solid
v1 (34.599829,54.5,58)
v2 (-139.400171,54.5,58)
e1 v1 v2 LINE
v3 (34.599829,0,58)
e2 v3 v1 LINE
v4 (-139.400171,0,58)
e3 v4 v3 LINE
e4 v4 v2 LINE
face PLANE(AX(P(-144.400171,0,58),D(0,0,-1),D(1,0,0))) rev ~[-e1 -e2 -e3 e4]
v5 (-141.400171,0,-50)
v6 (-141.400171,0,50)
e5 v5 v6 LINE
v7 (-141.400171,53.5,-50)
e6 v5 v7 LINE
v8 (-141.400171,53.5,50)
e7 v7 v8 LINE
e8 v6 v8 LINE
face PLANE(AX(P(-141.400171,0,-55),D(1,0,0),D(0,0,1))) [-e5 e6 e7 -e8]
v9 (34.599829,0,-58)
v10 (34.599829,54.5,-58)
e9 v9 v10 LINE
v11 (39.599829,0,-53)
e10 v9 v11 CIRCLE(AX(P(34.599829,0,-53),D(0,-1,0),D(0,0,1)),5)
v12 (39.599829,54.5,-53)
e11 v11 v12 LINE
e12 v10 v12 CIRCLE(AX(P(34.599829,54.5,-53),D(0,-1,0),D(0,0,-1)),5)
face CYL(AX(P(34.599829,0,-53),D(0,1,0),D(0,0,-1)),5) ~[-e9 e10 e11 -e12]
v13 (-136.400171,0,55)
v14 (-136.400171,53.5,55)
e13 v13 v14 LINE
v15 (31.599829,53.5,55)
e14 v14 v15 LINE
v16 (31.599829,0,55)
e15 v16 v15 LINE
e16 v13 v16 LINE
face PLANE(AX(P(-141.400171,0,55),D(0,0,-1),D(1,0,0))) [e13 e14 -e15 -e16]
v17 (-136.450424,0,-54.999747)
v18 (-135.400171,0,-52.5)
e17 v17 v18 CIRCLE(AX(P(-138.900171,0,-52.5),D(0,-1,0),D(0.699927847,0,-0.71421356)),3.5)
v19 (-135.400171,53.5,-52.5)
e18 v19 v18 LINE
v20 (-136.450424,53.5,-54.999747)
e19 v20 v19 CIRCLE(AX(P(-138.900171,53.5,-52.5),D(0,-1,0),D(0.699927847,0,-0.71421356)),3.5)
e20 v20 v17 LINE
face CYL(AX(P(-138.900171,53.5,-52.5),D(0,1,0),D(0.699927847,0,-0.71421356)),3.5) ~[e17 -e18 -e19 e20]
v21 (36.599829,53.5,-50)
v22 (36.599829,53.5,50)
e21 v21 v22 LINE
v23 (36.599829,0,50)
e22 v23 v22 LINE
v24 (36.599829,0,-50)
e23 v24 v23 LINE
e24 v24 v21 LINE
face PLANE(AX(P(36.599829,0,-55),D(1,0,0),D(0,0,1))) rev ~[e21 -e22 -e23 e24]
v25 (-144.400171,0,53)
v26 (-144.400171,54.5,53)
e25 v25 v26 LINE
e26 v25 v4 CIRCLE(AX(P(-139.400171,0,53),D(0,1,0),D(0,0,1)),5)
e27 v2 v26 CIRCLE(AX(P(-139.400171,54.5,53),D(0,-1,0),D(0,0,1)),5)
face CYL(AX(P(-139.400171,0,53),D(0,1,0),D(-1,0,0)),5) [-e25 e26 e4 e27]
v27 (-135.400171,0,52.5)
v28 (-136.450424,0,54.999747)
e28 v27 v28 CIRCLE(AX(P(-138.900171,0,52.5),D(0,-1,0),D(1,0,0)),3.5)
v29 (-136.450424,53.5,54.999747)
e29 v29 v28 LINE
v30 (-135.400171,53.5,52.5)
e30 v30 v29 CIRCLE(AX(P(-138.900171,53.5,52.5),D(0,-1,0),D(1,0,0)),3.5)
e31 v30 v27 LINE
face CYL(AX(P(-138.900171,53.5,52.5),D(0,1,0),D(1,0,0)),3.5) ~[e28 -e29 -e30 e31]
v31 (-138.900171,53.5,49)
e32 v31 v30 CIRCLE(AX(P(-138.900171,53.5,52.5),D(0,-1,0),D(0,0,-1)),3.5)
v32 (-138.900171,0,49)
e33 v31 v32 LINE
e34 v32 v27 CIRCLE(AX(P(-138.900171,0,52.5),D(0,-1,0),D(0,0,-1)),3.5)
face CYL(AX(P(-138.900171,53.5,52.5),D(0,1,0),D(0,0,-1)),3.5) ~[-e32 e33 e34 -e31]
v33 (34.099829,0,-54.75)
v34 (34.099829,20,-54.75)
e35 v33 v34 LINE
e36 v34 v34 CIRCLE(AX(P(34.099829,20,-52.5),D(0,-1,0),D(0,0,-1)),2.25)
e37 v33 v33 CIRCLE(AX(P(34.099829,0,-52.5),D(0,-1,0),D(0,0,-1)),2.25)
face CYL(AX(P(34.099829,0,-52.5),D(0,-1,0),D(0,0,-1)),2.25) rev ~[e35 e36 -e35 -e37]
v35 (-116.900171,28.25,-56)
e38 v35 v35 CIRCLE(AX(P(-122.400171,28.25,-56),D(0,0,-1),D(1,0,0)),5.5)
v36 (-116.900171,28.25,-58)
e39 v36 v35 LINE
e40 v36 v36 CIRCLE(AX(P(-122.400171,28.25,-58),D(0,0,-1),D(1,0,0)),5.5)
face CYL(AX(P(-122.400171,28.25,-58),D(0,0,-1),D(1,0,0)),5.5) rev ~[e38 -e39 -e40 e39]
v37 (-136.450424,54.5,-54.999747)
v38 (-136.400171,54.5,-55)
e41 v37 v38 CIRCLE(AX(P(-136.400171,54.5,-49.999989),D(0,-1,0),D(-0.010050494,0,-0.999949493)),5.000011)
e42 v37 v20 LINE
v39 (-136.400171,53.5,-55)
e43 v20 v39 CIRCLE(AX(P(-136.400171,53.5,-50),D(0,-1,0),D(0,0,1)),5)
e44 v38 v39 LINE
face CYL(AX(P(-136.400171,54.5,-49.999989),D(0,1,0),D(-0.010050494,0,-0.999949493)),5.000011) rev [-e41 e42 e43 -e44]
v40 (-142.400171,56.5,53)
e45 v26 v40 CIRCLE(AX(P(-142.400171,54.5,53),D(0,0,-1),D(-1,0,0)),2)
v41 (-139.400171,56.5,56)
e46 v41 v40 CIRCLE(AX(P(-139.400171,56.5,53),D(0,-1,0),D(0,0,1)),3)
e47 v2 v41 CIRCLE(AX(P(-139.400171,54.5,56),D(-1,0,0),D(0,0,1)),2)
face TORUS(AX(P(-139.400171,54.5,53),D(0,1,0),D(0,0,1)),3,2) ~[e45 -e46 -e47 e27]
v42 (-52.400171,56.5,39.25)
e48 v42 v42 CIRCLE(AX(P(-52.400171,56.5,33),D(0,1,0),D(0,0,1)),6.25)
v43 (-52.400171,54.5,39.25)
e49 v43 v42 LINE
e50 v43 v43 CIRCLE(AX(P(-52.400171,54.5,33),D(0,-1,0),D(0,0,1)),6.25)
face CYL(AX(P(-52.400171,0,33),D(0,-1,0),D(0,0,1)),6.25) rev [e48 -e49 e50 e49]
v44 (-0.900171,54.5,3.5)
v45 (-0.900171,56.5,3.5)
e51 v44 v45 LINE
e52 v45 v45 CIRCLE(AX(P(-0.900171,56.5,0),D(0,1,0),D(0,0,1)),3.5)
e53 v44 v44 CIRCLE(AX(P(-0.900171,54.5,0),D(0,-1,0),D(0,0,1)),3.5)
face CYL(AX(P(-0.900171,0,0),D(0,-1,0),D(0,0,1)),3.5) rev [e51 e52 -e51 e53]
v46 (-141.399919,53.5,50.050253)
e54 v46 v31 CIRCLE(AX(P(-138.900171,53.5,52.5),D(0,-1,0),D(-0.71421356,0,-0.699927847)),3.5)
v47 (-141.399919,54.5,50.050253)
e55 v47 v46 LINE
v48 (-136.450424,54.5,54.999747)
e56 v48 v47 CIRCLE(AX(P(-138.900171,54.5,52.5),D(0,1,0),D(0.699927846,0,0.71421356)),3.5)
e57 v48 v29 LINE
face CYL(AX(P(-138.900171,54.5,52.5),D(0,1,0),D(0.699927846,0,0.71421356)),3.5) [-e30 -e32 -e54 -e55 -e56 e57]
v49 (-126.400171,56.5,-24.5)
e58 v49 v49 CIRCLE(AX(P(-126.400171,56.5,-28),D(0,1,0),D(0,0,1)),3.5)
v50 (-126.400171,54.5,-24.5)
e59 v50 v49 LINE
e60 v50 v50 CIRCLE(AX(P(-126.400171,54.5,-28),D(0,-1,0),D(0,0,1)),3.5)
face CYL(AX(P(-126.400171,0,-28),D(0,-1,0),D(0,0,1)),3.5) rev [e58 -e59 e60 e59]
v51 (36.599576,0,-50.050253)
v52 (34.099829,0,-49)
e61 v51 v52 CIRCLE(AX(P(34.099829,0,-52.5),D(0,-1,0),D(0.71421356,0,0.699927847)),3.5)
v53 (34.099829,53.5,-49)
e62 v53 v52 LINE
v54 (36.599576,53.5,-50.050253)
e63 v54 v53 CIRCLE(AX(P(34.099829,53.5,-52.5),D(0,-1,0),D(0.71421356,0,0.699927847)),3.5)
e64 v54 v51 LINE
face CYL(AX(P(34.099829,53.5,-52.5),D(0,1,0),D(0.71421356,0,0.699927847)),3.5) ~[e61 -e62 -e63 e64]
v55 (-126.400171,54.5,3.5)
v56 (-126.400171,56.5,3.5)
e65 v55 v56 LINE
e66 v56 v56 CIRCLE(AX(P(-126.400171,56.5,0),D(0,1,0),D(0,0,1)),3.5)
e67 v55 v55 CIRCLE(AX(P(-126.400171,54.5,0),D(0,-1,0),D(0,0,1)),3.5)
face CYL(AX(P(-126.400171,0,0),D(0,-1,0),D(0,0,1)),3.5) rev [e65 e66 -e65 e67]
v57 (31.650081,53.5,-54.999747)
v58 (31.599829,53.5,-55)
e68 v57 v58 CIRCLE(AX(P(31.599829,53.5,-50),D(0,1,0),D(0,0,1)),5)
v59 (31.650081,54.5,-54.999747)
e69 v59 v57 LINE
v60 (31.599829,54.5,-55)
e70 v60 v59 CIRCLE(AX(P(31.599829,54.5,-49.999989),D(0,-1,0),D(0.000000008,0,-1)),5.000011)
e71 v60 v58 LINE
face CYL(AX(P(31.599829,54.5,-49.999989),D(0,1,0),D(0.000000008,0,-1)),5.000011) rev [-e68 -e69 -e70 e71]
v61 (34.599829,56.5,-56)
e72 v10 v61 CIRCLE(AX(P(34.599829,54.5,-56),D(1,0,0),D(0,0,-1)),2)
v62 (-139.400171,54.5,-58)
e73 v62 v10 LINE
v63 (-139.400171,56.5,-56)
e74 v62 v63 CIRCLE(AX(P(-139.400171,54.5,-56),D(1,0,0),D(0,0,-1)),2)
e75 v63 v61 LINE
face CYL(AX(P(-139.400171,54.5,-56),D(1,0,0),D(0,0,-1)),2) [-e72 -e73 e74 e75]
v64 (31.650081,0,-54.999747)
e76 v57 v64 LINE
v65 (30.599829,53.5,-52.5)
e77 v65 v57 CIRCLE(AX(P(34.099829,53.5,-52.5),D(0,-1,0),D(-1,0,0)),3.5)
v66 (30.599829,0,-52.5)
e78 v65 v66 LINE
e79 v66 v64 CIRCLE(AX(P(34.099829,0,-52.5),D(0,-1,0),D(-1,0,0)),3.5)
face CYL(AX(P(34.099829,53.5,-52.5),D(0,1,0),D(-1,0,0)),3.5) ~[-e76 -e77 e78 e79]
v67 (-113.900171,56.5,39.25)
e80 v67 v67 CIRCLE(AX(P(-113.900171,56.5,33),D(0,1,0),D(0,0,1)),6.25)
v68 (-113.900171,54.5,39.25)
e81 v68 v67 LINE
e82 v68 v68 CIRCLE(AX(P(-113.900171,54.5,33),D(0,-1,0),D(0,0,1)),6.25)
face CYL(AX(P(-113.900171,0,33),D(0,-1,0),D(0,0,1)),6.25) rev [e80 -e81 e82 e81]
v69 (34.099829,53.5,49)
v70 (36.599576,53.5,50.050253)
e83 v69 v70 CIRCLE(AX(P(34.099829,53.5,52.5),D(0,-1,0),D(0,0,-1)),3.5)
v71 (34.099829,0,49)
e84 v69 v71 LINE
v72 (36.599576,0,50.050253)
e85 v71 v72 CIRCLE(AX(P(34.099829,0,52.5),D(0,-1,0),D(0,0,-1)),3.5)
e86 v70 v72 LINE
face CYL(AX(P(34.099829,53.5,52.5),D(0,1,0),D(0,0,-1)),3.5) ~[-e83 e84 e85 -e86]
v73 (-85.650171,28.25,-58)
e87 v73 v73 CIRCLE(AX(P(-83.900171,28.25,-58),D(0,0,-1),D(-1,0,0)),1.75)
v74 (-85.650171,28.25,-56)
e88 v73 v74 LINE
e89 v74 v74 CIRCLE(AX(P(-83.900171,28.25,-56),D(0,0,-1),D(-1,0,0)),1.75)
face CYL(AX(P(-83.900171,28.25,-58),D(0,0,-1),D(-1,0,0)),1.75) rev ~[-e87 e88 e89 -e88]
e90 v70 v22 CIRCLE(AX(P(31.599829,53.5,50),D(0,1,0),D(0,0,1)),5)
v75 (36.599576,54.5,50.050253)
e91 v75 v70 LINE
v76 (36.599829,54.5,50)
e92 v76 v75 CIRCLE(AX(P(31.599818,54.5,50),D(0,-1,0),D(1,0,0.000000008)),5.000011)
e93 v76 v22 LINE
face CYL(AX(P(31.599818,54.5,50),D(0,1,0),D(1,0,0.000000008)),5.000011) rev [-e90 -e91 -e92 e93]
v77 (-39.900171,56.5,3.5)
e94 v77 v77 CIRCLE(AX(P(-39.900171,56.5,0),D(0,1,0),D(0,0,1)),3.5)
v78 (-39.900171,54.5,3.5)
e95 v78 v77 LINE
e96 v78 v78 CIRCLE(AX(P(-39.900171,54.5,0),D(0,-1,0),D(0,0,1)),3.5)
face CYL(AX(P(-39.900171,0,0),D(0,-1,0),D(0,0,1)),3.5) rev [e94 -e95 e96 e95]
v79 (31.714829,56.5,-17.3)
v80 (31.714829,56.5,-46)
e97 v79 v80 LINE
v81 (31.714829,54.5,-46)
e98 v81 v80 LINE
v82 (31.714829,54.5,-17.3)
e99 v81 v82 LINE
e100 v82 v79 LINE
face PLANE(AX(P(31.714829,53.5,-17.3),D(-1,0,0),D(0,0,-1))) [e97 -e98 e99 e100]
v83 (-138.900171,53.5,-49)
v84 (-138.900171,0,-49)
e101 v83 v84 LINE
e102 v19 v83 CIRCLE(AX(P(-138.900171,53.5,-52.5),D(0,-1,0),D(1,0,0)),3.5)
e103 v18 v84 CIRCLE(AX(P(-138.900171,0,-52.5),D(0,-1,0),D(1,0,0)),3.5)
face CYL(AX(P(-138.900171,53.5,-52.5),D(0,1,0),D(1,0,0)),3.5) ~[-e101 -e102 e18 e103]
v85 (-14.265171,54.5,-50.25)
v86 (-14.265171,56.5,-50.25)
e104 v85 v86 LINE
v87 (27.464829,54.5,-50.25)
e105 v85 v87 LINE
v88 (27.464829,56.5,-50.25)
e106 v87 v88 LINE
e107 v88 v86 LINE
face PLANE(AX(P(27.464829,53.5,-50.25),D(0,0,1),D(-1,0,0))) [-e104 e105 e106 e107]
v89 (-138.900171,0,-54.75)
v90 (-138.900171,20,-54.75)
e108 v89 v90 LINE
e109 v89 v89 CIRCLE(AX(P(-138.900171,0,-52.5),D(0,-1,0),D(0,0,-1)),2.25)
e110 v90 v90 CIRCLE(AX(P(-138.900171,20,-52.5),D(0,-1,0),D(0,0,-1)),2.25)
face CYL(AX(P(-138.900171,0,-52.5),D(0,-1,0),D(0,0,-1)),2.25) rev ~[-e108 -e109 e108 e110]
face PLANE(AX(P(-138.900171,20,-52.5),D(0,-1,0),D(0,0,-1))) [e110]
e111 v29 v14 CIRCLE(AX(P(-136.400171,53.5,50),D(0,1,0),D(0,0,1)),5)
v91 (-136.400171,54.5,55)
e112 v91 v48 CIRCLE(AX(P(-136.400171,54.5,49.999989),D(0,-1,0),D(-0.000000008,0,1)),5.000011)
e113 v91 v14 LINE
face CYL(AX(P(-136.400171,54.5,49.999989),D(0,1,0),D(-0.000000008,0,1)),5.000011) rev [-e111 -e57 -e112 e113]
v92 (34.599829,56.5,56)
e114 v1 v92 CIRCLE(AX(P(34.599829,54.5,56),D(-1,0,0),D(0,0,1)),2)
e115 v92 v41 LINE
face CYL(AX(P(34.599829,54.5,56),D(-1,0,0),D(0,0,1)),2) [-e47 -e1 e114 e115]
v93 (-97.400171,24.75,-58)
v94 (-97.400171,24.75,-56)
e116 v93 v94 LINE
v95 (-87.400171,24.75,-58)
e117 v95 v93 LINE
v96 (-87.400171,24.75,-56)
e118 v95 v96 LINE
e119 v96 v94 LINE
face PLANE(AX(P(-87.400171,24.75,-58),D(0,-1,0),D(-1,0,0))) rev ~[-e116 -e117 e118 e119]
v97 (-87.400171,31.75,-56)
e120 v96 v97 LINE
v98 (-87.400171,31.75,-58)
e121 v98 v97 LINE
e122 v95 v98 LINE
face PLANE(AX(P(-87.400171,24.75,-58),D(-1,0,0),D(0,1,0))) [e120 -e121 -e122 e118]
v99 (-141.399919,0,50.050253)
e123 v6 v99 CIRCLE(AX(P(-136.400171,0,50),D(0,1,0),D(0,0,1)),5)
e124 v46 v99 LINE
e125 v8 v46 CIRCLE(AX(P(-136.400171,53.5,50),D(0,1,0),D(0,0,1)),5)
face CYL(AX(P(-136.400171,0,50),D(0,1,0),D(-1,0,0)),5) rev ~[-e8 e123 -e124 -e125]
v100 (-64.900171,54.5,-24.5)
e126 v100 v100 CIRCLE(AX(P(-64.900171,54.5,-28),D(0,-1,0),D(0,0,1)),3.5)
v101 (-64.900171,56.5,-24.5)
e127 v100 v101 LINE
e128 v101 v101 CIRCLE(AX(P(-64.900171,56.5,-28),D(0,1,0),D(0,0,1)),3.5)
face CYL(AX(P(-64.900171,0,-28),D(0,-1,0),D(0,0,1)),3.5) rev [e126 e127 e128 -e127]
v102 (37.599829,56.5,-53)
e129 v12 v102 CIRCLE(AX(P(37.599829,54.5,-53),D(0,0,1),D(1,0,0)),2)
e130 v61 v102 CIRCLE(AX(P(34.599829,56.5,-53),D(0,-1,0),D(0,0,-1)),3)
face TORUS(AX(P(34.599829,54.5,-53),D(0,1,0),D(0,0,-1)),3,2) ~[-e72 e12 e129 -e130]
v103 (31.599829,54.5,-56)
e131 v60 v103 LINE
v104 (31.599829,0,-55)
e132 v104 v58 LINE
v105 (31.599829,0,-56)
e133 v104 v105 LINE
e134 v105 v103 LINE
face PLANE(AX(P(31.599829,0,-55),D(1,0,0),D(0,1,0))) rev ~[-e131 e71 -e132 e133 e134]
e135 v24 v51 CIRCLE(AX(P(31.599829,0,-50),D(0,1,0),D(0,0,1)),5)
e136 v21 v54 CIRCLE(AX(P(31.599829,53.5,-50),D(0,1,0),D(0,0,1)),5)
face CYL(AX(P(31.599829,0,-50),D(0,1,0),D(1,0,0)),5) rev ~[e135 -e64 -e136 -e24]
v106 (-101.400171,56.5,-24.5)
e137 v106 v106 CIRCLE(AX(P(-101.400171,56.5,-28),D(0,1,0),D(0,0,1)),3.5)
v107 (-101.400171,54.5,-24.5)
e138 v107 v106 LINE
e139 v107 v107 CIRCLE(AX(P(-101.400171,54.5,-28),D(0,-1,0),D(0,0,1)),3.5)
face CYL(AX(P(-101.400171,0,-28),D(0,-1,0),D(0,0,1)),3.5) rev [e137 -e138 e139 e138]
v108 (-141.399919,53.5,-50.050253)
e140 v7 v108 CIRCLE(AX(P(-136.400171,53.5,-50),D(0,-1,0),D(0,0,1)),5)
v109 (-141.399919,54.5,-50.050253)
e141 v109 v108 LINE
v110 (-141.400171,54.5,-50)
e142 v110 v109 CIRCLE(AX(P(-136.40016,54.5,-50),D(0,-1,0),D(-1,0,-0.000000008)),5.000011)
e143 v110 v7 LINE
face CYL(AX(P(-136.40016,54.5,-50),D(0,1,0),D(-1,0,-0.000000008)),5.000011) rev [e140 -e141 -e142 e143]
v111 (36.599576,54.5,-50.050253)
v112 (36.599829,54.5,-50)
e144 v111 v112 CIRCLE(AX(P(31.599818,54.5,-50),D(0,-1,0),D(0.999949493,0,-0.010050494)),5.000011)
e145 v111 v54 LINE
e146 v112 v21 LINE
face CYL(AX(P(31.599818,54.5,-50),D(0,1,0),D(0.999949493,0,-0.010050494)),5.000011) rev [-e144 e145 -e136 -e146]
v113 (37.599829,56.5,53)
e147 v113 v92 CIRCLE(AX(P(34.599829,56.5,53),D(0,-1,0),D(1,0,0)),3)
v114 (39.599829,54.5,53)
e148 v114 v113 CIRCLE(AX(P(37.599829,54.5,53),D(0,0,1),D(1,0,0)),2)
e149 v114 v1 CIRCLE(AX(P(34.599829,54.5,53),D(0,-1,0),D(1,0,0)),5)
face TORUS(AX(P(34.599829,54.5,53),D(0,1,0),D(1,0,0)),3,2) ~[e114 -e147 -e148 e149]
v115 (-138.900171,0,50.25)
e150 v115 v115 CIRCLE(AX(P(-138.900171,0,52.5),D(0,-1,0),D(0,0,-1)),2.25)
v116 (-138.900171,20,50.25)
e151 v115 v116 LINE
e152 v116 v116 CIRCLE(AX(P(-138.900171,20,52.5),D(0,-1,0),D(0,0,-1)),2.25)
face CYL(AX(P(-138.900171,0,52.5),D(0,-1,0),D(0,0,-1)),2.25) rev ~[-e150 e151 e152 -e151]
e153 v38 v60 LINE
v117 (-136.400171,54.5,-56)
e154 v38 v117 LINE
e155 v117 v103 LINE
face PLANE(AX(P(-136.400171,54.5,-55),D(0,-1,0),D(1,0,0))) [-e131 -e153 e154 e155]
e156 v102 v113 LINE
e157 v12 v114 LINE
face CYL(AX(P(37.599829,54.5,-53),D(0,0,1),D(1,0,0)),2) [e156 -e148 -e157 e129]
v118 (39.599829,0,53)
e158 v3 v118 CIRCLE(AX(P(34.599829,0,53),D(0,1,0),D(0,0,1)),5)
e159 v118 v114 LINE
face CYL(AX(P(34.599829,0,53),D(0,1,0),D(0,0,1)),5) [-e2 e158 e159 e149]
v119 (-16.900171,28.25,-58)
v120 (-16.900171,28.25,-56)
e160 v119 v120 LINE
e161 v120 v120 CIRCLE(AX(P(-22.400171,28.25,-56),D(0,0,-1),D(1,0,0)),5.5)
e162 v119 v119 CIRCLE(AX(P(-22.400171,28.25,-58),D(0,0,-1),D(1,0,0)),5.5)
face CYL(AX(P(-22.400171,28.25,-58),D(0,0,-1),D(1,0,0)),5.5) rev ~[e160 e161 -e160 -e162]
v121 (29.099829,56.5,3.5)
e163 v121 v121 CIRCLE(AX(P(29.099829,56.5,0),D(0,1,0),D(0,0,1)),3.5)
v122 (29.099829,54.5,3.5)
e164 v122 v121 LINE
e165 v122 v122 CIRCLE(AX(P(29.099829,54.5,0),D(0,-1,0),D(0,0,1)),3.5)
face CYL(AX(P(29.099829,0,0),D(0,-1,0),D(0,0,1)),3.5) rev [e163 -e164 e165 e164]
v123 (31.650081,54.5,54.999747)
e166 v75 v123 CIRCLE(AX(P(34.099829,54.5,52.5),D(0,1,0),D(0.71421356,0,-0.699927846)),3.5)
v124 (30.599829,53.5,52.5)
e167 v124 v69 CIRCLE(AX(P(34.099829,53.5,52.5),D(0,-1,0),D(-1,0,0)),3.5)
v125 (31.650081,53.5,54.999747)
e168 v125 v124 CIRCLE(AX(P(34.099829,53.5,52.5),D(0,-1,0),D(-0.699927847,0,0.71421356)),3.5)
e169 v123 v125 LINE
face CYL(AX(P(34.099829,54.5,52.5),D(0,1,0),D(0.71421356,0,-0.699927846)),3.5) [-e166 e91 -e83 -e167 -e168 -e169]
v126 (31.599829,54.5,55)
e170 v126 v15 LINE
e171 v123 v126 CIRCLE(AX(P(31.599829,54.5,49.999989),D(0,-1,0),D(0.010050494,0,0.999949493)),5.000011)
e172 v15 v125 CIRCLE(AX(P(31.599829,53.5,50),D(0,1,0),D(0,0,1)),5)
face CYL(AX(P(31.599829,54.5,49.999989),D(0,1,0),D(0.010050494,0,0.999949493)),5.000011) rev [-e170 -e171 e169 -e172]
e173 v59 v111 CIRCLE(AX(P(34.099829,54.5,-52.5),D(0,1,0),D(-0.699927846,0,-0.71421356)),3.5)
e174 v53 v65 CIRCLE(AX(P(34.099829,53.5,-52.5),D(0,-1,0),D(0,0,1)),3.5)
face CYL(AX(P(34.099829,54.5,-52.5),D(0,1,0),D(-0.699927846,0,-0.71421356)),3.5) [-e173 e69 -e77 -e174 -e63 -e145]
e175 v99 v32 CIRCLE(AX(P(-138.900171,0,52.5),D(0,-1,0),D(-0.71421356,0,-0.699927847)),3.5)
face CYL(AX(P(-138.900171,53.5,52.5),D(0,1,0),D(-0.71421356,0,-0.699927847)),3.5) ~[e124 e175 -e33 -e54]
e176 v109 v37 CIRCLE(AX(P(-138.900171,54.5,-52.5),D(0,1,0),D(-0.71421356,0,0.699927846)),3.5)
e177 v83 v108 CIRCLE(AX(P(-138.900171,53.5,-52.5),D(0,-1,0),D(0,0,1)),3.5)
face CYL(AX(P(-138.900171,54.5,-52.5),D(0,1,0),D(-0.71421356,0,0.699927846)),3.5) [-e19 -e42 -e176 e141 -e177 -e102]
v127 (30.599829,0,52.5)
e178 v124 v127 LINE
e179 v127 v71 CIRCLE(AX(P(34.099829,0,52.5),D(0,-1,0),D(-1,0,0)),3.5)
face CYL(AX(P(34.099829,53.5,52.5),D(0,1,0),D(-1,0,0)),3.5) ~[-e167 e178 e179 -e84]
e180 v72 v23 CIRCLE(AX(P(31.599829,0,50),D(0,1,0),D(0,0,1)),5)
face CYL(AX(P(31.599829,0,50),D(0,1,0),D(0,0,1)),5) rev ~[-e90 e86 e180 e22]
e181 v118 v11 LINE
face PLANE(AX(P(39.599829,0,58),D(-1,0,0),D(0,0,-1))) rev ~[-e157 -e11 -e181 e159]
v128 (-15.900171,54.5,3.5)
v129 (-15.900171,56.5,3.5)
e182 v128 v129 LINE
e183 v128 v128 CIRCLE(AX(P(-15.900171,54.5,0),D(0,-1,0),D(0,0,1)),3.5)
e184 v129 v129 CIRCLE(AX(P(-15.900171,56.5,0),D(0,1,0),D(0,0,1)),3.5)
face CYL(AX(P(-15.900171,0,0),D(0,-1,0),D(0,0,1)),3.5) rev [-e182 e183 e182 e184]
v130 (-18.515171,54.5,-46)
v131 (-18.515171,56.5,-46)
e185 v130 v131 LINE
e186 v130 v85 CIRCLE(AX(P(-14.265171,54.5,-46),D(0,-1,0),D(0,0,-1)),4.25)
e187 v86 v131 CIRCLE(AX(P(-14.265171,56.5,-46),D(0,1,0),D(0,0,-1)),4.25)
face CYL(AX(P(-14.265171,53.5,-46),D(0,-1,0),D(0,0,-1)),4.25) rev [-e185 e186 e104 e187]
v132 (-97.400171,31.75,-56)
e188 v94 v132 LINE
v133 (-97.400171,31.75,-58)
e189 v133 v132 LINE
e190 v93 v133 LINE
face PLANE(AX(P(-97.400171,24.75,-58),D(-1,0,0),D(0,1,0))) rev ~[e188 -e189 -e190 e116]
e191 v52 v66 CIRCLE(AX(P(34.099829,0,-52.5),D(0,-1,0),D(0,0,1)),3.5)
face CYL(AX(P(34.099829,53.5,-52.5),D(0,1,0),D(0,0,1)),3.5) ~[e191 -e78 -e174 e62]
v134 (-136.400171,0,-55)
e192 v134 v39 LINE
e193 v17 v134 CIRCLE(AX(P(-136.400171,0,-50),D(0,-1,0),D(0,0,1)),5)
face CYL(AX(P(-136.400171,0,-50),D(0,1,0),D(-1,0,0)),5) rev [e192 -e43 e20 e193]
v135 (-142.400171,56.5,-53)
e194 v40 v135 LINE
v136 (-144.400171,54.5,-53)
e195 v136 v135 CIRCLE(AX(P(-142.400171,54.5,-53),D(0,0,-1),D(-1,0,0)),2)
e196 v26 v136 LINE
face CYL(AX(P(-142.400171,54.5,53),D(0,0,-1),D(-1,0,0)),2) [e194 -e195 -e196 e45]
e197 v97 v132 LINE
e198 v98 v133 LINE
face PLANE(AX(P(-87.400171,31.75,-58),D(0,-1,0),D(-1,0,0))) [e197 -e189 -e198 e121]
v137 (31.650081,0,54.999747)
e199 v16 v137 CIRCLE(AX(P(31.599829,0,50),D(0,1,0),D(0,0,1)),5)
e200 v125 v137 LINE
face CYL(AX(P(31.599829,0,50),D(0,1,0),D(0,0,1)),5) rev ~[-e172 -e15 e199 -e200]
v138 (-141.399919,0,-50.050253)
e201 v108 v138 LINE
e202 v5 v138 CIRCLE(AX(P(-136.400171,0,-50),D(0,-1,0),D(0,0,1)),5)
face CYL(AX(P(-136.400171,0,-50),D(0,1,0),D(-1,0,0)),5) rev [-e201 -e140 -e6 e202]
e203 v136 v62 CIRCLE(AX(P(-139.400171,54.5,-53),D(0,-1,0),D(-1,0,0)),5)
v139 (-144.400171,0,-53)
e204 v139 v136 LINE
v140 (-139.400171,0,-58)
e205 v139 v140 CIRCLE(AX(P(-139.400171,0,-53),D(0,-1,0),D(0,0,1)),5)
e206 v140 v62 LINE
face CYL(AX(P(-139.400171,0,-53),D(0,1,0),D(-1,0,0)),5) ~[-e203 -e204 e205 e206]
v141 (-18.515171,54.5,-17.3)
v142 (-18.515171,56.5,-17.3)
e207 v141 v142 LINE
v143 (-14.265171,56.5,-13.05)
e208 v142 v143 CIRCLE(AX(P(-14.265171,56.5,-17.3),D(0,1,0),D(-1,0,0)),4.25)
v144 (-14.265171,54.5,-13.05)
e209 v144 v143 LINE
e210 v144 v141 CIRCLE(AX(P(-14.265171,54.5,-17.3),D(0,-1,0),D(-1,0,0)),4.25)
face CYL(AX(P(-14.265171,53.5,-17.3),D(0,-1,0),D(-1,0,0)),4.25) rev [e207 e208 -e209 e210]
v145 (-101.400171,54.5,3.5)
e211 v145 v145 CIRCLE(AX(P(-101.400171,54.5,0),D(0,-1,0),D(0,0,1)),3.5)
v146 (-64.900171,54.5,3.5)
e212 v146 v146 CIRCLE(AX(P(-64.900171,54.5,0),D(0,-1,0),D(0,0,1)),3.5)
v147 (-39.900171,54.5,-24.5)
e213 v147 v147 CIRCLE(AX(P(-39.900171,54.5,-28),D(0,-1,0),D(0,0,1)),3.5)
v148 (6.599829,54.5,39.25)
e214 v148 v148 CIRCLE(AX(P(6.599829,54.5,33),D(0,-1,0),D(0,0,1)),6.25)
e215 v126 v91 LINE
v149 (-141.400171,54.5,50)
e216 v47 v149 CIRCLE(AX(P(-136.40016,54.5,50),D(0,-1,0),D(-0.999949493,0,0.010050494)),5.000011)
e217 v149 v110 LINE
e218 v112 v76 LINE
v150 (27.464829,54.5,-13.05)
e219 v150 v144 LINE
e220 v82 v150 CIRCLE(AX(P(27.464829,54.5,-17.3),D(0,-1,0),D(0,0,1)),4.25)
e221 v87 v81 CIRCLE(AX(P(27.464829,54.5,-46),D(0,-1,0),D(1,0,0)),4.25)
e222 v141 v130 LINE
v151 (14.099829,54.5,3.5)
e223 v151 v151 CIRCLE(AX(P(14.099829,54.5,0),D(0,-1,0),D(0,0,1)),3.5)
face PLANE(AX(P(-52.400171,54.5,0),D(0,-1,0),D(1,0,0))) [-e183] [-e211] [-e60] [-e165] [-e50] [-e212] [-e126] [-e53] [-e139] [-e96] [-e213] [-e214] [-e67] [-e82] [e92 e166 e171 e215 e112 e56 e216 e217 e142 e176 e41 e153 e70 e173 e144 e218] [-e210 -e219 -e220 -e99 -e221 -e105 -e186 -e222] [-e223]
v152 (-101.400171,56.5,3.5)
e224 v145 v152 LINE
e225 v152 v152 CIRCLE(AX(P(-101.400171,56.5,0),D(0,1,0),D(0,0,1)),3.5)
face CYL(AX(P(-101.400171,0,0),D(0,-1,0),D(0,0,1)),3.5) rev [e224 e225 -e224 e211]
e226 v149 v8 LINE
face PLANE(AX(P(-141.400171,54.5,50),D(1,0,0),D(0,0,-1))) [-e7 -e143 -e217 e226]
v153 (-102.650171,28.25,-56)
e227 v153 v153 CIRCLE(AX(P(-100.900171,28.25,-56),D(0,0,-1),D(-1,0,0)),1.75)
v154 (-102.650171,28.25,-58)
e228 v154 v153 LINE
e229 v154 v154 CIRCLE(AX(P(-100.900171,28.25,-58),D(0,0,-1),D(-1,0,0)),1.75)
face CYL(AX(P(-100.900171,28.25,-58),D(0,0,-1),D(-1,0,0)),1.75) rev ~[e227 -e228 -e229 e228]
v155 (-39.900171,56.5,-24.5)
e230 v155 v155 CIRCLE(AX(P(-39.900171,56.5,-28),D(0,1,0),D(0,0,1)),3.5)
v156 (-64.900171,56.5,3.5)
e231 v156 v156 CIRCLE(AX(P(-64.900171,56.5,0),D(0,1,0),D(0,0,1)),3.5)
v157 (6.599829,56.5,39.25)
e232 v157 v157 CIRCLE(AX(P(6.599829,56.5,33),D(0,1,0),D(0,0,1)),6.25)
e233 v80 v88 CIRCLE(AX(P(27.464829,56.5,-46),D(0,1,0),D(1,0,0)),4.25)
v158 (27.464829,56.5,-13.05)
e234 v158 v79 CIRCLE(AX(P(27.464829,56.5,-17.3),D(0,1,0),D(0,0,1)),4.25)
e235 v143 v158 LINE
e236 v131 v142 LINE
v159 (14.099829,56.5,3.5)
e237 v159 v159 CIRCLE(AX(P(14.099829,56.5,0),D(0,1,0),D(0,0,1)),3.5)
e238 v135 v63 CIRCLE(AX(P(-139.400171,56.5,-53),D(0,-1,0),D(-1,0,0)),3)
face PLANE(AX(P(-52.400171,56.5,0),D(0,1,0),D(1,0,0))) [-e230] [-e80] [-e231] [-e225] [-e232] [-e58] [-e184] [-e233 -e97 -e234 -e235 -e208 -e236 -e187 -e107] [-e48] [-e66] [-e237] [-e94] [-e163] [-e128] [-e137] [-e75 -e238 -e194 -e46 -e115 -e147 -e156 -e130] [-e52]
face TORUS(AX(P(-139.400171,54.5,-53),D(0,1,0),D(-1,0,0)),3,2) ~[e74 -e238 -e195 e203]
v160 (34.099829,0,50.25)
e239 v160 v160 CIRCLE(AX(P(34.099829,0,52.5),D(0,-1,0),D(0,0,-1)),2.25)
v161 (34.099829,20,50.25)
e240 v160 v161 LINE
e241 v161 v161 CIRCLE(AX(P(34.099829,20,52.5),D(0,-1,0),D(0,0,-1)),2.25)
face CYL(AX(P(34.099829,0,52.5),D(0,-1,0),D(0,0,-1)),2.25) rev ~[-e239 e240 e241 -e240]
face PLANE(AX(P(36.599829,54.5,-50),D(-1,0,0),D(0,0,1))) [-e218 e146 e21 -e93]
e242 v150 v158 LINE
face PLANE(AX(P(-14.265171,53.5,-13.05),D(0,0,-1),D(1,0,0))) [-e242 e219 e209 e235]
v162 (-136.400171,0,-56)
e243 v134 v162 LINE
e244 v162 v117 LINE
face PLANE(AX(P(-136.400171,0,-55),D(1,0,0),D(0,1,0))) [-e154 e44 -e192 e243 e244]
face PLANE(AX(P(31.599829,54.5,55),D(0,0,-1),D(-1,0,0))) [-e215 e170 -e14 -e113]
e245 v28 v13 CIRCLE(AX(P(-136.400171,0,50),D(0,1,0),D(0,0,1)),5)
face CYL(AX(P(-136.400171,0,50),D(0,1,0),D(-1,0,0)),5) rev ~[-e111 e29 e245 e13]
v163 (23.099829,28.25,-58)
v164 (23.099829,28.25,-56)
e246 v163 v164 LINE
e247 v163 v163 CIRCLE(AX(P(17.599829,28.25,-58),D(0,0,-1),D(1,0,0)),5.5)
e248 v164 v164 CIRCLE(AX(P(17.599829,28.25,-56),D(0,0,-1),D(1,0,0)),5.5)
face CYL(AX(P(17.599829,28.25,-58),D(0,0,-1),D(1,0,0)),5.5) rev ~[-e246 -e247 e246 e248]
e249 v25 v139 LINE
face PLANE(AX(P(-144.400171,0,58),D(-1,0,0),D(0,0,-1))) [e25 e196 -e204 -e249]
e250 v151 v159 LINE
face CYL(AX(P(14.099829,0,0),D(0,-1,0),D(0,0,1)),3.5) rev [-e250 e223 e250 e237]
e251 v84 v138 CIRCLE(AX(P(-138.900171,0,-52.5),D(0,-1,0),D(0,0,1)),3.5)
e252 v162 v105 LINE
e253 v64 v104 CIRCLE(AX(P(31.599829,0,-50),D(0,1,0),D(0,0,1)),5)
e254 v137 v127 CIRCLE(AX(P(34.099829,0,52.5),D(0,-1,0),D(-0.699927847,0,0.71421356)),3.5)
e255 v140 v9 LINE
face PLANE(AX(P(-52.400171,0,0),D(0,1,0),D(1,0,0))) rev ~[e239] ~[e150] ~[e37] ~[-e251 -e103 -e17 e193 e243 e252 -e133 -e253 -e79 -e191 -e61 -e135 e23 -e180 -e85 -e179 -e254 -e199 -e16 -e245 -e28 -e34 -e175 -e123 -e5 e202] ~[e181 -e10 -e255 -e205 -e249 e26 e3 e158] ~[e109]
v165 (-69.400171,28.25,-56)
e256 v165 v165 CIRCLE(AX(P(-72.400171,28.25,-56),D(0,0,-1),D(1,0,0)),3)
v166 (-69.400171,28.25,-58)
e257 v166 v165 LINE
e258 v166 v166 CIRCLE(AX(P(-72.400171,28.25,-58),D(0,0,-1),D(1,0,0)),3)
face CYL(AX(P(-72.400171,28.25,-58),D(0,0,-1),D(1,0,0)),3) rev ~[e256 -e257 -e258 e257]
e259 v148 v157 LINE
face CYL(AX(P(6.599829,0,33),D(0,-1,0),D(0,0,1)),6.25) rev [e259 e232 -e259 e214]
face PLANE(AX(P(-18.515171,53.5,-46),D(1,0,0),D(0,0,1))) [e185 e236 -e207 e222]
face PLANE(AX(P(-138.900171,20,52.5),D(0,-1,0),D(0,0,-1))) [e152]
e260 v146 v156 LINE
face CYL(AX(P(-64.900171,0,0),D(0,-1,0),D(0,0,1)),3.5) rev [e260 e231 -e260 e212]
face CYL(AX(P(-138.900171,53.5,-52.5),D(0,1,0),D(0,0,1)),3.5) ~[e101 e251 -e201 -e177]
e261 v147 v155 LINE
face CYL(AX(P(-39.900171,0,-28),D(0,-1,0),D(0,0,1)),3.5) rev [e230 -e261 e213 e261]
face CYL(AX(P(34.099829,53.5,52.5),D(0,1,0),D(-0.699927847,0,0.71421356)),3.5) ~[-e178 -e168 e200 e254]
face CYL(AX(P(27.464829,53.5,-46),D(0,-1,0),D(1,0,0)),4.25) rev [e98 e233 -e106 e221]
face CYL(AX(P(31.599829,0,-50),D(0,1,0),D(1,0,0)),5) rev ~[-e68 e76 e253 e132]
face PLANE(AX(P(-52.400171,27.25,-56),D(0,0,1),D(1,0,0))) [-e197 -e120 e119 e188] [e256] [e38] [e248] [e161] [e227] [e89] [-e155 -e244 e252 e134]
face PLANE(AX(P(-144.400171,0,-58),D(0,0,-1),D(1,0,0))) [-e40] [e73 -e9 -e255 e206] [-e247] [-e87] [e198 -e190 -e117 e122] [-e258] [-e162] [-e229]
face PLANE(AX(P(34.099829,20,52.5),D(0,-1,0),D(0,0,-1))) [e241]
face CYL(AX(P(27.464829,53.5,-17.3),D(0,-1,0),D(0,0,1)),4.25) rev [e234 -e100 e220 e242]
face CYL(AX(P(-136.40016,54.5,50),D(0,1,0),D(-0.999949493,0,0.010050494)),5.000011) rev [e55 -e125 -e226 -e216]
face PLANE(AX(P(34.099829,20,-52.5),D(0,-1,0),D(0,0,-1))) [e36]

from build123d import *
from build123d.topology import SkipClean

# Parameters (mm, degrees)
SKETCH_1_W          = 184
SKETCH_1_H          = 116
SKETCH_1_R          = 3.5
SKETCH_1_R_2        = 6.25
EXTRUDE_1_DEPTH     = 56.5
SKETCH_3_W          = 178
SKETCH_3_H          = 110
CUT_EXTRUDE_2_DEPTH = 53.5
CUT_EXTRUDE_START   = -3
CUT_EXTRUDE_1_DEPTH = 3
FILLET_1_R          = 5
EXTRUDE_2_DEPTH     = 53.5
SKETCH_6_R          = 2.25
CUT_EXTRUDE_3_DEPTH = 20
FILLET_2_R          = 2
SKETCH_7_W          = 10
SKETCH_7_H          = 7
SKETCH_7_R          = 1.75
CUT_EXTRUDE_4_DEPTH = 20
CUT_EXTRUDE_START_2 = -1
CUT_EXTRUDE_5_DEPTH = 1
SKETCH_11_W         = 168
SKETCH_11_H         = 54.5
CUT_EXTRUDE_6_DEPTH = 1


with BuildPart() as part:
    # 草图1 → 凸台-拉伸1 (new body)
    with BuildSketch(Plane(origin=(0, 0, 0), x_dir=(1, 0, 0), z_dir=(0, 1, 0))):
        with Locations((-52.400171246, 0)):
            Rectangle(SKETCH_1_W, SKETCH_1_H)
        with Locations(Location((-126.400171246, 28, 0), (0, 0, 270))):
            Circle(SKETCH_1_R, mode=Mode.SUBTRACT)
        with Locations(Location((-101.400171246, 28, 0), (0, 0, 270))):
            Circle(SKETCH_1_R, mode=Mode.SUBTRACT)
        with Locations(Location((-126.400171246, 0, 0), (0, 0, 270))):
            Circle(SKETCH_1_R, mode=Mode.SUBTRACT)
        with Locations(Location((-101.400171246, 0, 0), (0, 0, 270))):
            Circle(SKETCH_1_R, mode=Mode.SUBTRACT)
        with Locations(Location((-64.900171246, 28, 0), (0, 0, 270))):
            Circle(SKETCH_1_R, mode=Mode.SUBTRACT)
        with Locations(Location((-39.900171246, 28, 0), (0, 0, 270))):
            Circle(SKETCH_1_R, mode=Mode.SUBTRACT)
        with Locations(Location((-64.900171246, 0, 0), (0, 0, 270))):
            Circle(SKETCH_1_R, mode=Mode.SUBTRACT)
        with Locations(Location((-39.900171246, 0, 0), (0, 0, 270))):
            Circle(SKETCH_1_R, mode=Mode.SUBTRACT)
        with Locations(Location((-15.900171246, 0, 0), (0, 0, 270))):
            Circle(SKETCH_1_R, mode=Mode.SUBTRACT)
        with Locations(Location((-0.900171246, 0, 0), (0, 0, 270))):
            Circle(SKETCH_1_R, mode=Mode.SUBTRACT)
        with Locations(Location((14.099828754, 0, 0), (0, 0, 270))):
            Circle(SKETCH_1_R, mode=Mode.SUBTRACT)
        with Locations(Location((29.099828754, 0, 0), (0, 0, 270))):
            Circle(SKETCH_1_R, mode=Mode.SUBTRACT)
        with Locations(Location((-113.900171246, -33, 0), (0, 0, 270))):
            Circle(SKETCH_1_R_2, mode=Mode.SUBTRACT)
        with Locations(Location((-52.400171246, -33, 0), (0, 0, 270))):
            Circle(SKETCH_1_R_2, mode=Mode.SUBTRACT)
        with Locations(Location((6.599828754, -33, 0), (0, 0, 270))):
            Circle(SKETCH_1_R_2, mode=Mode.SUBTRACT)
        with BuildLine():
            Line((-14.265171246, 50), (27.464828754, 50))
            ThreePointArc((27.464828754, 50), (30.293255879, 48.828427125), (31.464828754, 46))
            Line((31.464828754, 46), (31.464828754, 17.3))
            ThreePointArc((31.464828754, 17.3), (30.293255879, 14.471572875), (27.464828754, 13.3))
            Line((27.464828754, 13.3), (-14.265171246, 13.3))
            ThreePointArc((-14.265171246, 13.3), (-17.093598371, 14.471572875), (-18.265171246, 17.3))
            Line((-18.265171246, 17.3), (-18.265171246, 46))
            ThreePointArc((-18.265171246, 46), (-17.093598371, 48.828427125), (-14.265171246, 50))
        make_face(mode=Mode.SUBTRACT)
    extrude(amount=EXTRUDE_1_DEPTH)

    # 草图3 → 切除-拉伸2 (cut)
    with BuildSketch(Plane.XZ):
        with Locations((-52.400171246, 0)):
            Rectangle(SKETCH_3_W, SKETCH_3_H)
    extrude(amount=-CUT_EXTRUDE_2_DEPTH, mode=Mode.SUBTRACT)

    # 草图4 → 切除-拉伸-薄壁1 (cut)
    with BuildSketch(Plane(origin=(0, 56.5, 0), x_dir=(1, 0, 0), z_dir=(0, 1, 0)).offset(CUT_EXTRUDE_START)):
        with BuildLine():
            Line((31.714828754, 17.3), (31.714828754, 46))
            ThreePointArc((31.714828754, 46), (30.470032574, 49.00520382), (27.464828754, 50.25))
            Line((27.464828754, 50.25), (-14.265171246, 50.25))
            ThreePointArc((-14.265171246, 50.25), (-17.270375066, 49.00520382), (-18.515171246, 46))
            Line((-18.515171246, 46), (-18.515171246, 17.3))
            ThreePointArc((-18.515171246, 17.3), (-17.270375066, 14.29479618), (-14.265171246, 13.05))
            Line((-14.265171246, 13.05), (27.464828754, 13.05))
            ThreePointArc((27.464828754, 13.05), (30.470032574, 14.29479618), (31.714828754, 17.3))
        make_face()
        with BuildLine():
            Line((31.464828754, 17.3), (31.464828754, 46))
            ThreePointArc((31.464828754, 46), (30.293255879, 48.828427125), (27.464828754, 50))
            Line((27.464828754, 50), (-14.265171246, 50))
            ThreePointArc((-14.265171246, 50), (-17.093598371, 48.828427125), (-18.265171246, 46))
            Line((-18.265171246, 46), (-18.265171246, 17.3))
            ThreePointArc((-18.265171246, 17.3), (-17.093598371, 14.471572875), (-14.265171246, 13.3))
            Line((-14.265171246, 13.3), (27.464828754, 13.3))
            ThreePointArc((27.464828754, 13.3), (30.293255879, 14.471572875), (31.464828754, 17.3))
        make_face(mode=Mode.SUBTRACT)
    extrude(amount=CUT_EXTRUDE_1_DEPTH, mode=Mode.SUBTRACT)

    # 圆角1
    fillet_1_edges = [part.edges().sort_by_distance(p)[0] for p in [
        (36.599828754, 26.75, -55),
        (36.599828754, 26.75, 55),
        (-141.400171246, 26.75, 55),
        (-141.400171246, 26.75, -55),
        (-144.400171246, 28.25, -58),
        (39.599828754, 28.25, -58),
        (39.599828754, 28.25, 58),
        (-144.400171246, 28.25, 58),
    ]]
    fillet(fillet_1_edges, radius=FILLET_1_R)

    # 草图5 → 凸台-拉伸2 (add)
    with BuildSketch(Plane.XZ.offset(-53.5)):
        with BuildLine():
            ThreePointArc((-141.399918708, 50.050252538), (-140.25587842, 49.27322792), (-138.900171246, 49))
            Line((-138.900171246, 49), (-138.900171246, 52.5))
            Line((-138.900171246, 52.5), (-135.400171246, 52.5))
            ThreePointArc((-135.400171246, 52.5), (-135.673399166, 53.855707174), (-136.450423784, 54.999747462))
            ThreePointArc((-136.450423784, 54.999747462), (-139.935705152, 53.535533906), (-141.399918708, 50.050252538))
        make_face()
        with BuildLine():
            Line((-138.900171246, 52.5), (-138.900171246, 49))
            ThreePointArc((-138.900171246, 49), (-136.425297512, 50.025126266), (-135.400171246, 52.5))
            Line((-135.400171246, 52.5), (-138.900171246, 52.5))
        make_face()
        with BuildLine():
            Line((-135.400171246, -52.5), (-138.900171246, -52.5))
            Line((-138.900171246, -52.5), (-138.900171246, -49))
            ThreePointArc((-138.900171246, -49), (-140.25587842, -49.27322792), (-141.399918708, -50.050252538))
            ThreePointArc((-141.399918708, -50.050252538), (-139.935705152, -53.535533906), (-136.450423784, -54.999747462))
            ThreePointArc((-136.450423784, -54.999747462), (-135.673399166, -53.855707174), (-135.400171246, -52.5))
        make_face()
        with BuildLine():
            Line((-138.900171246, -49), (-138.900171246, -52.5))
            Line((-138.900171246, -52.5), (-135.400171246, -52.5))
            ThreePointArc((-135.400171246, -52.5), (-136.425297512, -50.025126266), (-138.900171246, -49))
        make_face()
        with BuildLine():
            ThreePointArc((30.599828754, 52.5), (31.62495502, 50.025126266), (34.099828754, 49))
            Line((34.099828754, 49), (34.099828754, 52.5))
            Line((34.099828754, 52.5), (30.599828754, 52.5))
        make_face()
        with BuildLine():
            Line((34.099828754, 52.5), (34.099828754, 49))
            ThreePointArc((34.099828754, 49), (35.455535928, 49.27322792), (36.599576216, 50.050252538))
            ThreePointArc((36.599576216, 50.050252538), (35.13536266, 53.535533906), (31.650081292, 54.999747462))
            ThreePointArc((31.650081292, 54.999747462), (30.873056674, 53.855707174), (30.599828754, 52.5))
            Line((30.599828754, 52.5), (34.099828754, 52.5))
        make_face()
        with BuildLine():
            ThreePointArc((34.099828754, -49), (31.62495502, -50.025126266), (30.599828754, -52.5))
            Line((30.599828754, -52.5), (34.099828754, -52.5))
            Line((34.099828754, -52.5), (34.099828754, -49))
        make_face()
        with BuildLine():
            Line((34.099828754, -52.5), (30.599828754, -52.5))
            ThreePointArc((30.599828754, -52.5), (30.873056674, -53.855707174), (31.650081292, -54.999747462))
            ThreePointArc((31.650081292, -54.999747462), (35.13536266, -53.535533906), (36.599576216, -50.050252538))
            ThreePointArc((36.599576216, -50.050252538), (35.455535928, -49.27322792), (34.099828754, -49))
            Line((34.099828754, -49), (34.099828754, -52.5))
        make_face()
    extrude(amount=EXTRUDE_2_DEPTH)

    # 草图6 → 切除-拉伸3 (cut)
    with BuildSketch(Plane.XZ):
        with Locations(Location((34.099828754, -52.5, 0), (0, 0, 270))):
            Circle(SKETCH_6_R)
        with Locations(Location((34.099828754, 52.5, 0), (0, 0, 270))):
            Circle(SKETCH_6_R)
        with Locations(Location((-138.900171246, 52.5, 0), (0, 0, 270))):
            Circle(SKETCH_6_R)
        with Locations(Location((-138.900171246, -52.5, 0), (0, 0, 270))):
            Circle(SKETCH_6_R)
    extrude(amount=-CUT_EXTRUDE_3_DEPTH, mode=Mode.SUBTRACT)

    # 圆角2
    fillet_2_edges = [part.edges().sort_by_distance(p)[0] for p in [
        (-144.400171246, 56.5, 0),
        (-52.400171246, 56.5, -58),
        (-52.400171246, 56.5, 58),
        (39.599828754, 56.5, 0),
        (38.13536266, 56.5, 56.535533906),
        (38.13536266, 56.5, -56.535533906),
        (-142.935705152, 56.5, 56.535533906),
        (-142.935705152, 56.5, -56.535533906),
    ]]
    fillet(fillet_2_edges, radius=FILLET_2_R)

    # 草图7 → 切除-拉伸4 (cut)
    with BuildSketch(Plane(origin=(0, 0, -58), x_dir=(-1, 0, 0), z_dir=(0, 0, -1))):
        with BuildLine():
            ThreePointArc((127.900171246, 28.25), (122.400171246, 33.75), (116.900171246, 28.25))
            Line((116.900171246, 28.25), (127.900171246, 28.25))
        make_face()
        with BuildLine():
            Line((127.900171246, 28.25), (116.900171246, 28.25))
            ThreePointArc((116.900171246, 28.25), (122.400171246, 22.75), (127.900171246, 28.25))
        make_face()
        with BuildLine():
            ThreePointArc((-12.099828754, 28.25), (-17.599828754, 33.75), (-23.099828754, 28.25))
            Line((-23.099828754, 28.25), (-12.099828754, 28.25))
        make_face()
        with BuildLine():
            Line((-12.099828754, 28.25), (-23.099828754, 28.25))
            ThreePointArc((-23.099828754, 28.25), (-17.599828754, 22.75), (-12.099828754, 28.25))
        make_face()
        with BuildLine():
            ThreePointArc((27.900171246, 28.25), (22.400171246, 33.75), (16.900171246, 28.25))
            Line((16.900171246, 28.25), (27.900171246, 28.25))
        make_face()
        with BuildLine():
            Line((27.900171246, 28.25), (16.900171246, 28.25))
            ThreePointArc((16.900171246, 28.25), (22.400171246, 22.75), (27.900171246, 28.25))
        make_face()
        with BuildLine():
            ThreePointArc((75.400171246, 28.25), (72.400171246, 31.25), (69.400171246, 28.25))
            Line((69.400171246, 28.25), (75.400171246, 28.25))
        make_face()
        with BuildLine():
            Line((75.400171246, 28.25), (69.400171246, 28.25))
            ThreePointArc((69.400171246, 28.25), (72.400171246, 25.25), (75.400171246, 28.25))
        make_face()
        with Locations((92.400171246, 28.25)):
            Rectangle(SKETCH_7_W, SKETCH_7_H)
        with Locations((83.900171246, 28.25)):
            Circle(SKETCH_7_R)
        with Locations((100.900171246, 28.25)):
            Circle(SKETCH_7_R)
    extrude(amount=-CUT_EXTRUDE_4_DEPTH, mode=Mode.SUBTRACT)

    # 草图10 → 切除-拉伸5 (cut)
    with SkipClean():  # the faces are left unmerged after this step: merging them gives an invalid solid
        with BuildSketch(Plane.XZ.offset(-53.5).offset(CUT_EXTRUDE_START_2)):
            with BuildLine():
                Line((36.599828754, -50), (36.599828754, 50))
                ThreePointArc((36.599828754, 50), (36.599765619, 50.025126586), (36.599576216, 50.050252538))
                ThreePointArc((36.599576216, 50.050252538), (31.62495502, 50.025126266), (31.650081292, 54.999747462))
                ThreePointArc((31.650081292, 54.999747462), (31.62495534, 54.999936865), (31.599828754, 55))
                Line((31.599828754, 55), (-136.400171246, 55))
                ThreePointArc((-136.400171246, 55), (-136.425297832, 54.999936865), (-136.450423784, 54.999747462))
                ThreePointArc((-136.450423784, 54.999747462), (-136.425297512, 50.025126266), (-141.399918708, 50.050252538))
                ThreePointArc((-141.399918708, 50.050252538), (-141.400108111, 50.025126586), (-141.400171246, 50))
                Line((-141.400171246, 50), (-141.400171246, -50))
                ThreePointArc((-141.400171246, -50), (-141.400108111, -50.025126586), (-141.399918708, -50.050252538))
                ThreePointArc((-141.399918708, -50.050252538), (-136.425297512, -50.025126266), (-136.450423784, -54.999747462))
                ThreePointArc((-136.450423784, -54.999747462), (-136.425297832, -54.999936865), (-136.400171246, -55))
                Line((-136.400171246, -55), (31.599828754, -55))
                ThreePointArc((31.599828754, -55), (31.62495534, -54.999936865), (31.650081292, -54.999747462))
                ThreePointArc((31.650081292, -54.999747462), (31.62495502, -50.025126266), (36.599576216, -50.050252538))
                ThreePointArc((36.599576216, -50.050252538), (36.599765619, -50.025126586), (36.599828754, -50))
            make_face()
        extrude(amount=CUT_EXTRUDE_5_DEPTH, mode=Mode.SUBTRACT)

    # 草图11 → 切除-拉伸6 (cut)
    with SkipClean():  # the faces are left unmerged after this step: merging them gives an invalid solid
        with BuildSketch(Plane.XY.offset(-55)):
            with Locations((-52.400171246, 27.25)):
                Rectangle(SKETCH_11_W, SKETCH_11_H)
        extrude(amount=-CUT_EXTRUDE_6_DEPTH, mode=Mode.SUBTRACT)


solid = part.part
